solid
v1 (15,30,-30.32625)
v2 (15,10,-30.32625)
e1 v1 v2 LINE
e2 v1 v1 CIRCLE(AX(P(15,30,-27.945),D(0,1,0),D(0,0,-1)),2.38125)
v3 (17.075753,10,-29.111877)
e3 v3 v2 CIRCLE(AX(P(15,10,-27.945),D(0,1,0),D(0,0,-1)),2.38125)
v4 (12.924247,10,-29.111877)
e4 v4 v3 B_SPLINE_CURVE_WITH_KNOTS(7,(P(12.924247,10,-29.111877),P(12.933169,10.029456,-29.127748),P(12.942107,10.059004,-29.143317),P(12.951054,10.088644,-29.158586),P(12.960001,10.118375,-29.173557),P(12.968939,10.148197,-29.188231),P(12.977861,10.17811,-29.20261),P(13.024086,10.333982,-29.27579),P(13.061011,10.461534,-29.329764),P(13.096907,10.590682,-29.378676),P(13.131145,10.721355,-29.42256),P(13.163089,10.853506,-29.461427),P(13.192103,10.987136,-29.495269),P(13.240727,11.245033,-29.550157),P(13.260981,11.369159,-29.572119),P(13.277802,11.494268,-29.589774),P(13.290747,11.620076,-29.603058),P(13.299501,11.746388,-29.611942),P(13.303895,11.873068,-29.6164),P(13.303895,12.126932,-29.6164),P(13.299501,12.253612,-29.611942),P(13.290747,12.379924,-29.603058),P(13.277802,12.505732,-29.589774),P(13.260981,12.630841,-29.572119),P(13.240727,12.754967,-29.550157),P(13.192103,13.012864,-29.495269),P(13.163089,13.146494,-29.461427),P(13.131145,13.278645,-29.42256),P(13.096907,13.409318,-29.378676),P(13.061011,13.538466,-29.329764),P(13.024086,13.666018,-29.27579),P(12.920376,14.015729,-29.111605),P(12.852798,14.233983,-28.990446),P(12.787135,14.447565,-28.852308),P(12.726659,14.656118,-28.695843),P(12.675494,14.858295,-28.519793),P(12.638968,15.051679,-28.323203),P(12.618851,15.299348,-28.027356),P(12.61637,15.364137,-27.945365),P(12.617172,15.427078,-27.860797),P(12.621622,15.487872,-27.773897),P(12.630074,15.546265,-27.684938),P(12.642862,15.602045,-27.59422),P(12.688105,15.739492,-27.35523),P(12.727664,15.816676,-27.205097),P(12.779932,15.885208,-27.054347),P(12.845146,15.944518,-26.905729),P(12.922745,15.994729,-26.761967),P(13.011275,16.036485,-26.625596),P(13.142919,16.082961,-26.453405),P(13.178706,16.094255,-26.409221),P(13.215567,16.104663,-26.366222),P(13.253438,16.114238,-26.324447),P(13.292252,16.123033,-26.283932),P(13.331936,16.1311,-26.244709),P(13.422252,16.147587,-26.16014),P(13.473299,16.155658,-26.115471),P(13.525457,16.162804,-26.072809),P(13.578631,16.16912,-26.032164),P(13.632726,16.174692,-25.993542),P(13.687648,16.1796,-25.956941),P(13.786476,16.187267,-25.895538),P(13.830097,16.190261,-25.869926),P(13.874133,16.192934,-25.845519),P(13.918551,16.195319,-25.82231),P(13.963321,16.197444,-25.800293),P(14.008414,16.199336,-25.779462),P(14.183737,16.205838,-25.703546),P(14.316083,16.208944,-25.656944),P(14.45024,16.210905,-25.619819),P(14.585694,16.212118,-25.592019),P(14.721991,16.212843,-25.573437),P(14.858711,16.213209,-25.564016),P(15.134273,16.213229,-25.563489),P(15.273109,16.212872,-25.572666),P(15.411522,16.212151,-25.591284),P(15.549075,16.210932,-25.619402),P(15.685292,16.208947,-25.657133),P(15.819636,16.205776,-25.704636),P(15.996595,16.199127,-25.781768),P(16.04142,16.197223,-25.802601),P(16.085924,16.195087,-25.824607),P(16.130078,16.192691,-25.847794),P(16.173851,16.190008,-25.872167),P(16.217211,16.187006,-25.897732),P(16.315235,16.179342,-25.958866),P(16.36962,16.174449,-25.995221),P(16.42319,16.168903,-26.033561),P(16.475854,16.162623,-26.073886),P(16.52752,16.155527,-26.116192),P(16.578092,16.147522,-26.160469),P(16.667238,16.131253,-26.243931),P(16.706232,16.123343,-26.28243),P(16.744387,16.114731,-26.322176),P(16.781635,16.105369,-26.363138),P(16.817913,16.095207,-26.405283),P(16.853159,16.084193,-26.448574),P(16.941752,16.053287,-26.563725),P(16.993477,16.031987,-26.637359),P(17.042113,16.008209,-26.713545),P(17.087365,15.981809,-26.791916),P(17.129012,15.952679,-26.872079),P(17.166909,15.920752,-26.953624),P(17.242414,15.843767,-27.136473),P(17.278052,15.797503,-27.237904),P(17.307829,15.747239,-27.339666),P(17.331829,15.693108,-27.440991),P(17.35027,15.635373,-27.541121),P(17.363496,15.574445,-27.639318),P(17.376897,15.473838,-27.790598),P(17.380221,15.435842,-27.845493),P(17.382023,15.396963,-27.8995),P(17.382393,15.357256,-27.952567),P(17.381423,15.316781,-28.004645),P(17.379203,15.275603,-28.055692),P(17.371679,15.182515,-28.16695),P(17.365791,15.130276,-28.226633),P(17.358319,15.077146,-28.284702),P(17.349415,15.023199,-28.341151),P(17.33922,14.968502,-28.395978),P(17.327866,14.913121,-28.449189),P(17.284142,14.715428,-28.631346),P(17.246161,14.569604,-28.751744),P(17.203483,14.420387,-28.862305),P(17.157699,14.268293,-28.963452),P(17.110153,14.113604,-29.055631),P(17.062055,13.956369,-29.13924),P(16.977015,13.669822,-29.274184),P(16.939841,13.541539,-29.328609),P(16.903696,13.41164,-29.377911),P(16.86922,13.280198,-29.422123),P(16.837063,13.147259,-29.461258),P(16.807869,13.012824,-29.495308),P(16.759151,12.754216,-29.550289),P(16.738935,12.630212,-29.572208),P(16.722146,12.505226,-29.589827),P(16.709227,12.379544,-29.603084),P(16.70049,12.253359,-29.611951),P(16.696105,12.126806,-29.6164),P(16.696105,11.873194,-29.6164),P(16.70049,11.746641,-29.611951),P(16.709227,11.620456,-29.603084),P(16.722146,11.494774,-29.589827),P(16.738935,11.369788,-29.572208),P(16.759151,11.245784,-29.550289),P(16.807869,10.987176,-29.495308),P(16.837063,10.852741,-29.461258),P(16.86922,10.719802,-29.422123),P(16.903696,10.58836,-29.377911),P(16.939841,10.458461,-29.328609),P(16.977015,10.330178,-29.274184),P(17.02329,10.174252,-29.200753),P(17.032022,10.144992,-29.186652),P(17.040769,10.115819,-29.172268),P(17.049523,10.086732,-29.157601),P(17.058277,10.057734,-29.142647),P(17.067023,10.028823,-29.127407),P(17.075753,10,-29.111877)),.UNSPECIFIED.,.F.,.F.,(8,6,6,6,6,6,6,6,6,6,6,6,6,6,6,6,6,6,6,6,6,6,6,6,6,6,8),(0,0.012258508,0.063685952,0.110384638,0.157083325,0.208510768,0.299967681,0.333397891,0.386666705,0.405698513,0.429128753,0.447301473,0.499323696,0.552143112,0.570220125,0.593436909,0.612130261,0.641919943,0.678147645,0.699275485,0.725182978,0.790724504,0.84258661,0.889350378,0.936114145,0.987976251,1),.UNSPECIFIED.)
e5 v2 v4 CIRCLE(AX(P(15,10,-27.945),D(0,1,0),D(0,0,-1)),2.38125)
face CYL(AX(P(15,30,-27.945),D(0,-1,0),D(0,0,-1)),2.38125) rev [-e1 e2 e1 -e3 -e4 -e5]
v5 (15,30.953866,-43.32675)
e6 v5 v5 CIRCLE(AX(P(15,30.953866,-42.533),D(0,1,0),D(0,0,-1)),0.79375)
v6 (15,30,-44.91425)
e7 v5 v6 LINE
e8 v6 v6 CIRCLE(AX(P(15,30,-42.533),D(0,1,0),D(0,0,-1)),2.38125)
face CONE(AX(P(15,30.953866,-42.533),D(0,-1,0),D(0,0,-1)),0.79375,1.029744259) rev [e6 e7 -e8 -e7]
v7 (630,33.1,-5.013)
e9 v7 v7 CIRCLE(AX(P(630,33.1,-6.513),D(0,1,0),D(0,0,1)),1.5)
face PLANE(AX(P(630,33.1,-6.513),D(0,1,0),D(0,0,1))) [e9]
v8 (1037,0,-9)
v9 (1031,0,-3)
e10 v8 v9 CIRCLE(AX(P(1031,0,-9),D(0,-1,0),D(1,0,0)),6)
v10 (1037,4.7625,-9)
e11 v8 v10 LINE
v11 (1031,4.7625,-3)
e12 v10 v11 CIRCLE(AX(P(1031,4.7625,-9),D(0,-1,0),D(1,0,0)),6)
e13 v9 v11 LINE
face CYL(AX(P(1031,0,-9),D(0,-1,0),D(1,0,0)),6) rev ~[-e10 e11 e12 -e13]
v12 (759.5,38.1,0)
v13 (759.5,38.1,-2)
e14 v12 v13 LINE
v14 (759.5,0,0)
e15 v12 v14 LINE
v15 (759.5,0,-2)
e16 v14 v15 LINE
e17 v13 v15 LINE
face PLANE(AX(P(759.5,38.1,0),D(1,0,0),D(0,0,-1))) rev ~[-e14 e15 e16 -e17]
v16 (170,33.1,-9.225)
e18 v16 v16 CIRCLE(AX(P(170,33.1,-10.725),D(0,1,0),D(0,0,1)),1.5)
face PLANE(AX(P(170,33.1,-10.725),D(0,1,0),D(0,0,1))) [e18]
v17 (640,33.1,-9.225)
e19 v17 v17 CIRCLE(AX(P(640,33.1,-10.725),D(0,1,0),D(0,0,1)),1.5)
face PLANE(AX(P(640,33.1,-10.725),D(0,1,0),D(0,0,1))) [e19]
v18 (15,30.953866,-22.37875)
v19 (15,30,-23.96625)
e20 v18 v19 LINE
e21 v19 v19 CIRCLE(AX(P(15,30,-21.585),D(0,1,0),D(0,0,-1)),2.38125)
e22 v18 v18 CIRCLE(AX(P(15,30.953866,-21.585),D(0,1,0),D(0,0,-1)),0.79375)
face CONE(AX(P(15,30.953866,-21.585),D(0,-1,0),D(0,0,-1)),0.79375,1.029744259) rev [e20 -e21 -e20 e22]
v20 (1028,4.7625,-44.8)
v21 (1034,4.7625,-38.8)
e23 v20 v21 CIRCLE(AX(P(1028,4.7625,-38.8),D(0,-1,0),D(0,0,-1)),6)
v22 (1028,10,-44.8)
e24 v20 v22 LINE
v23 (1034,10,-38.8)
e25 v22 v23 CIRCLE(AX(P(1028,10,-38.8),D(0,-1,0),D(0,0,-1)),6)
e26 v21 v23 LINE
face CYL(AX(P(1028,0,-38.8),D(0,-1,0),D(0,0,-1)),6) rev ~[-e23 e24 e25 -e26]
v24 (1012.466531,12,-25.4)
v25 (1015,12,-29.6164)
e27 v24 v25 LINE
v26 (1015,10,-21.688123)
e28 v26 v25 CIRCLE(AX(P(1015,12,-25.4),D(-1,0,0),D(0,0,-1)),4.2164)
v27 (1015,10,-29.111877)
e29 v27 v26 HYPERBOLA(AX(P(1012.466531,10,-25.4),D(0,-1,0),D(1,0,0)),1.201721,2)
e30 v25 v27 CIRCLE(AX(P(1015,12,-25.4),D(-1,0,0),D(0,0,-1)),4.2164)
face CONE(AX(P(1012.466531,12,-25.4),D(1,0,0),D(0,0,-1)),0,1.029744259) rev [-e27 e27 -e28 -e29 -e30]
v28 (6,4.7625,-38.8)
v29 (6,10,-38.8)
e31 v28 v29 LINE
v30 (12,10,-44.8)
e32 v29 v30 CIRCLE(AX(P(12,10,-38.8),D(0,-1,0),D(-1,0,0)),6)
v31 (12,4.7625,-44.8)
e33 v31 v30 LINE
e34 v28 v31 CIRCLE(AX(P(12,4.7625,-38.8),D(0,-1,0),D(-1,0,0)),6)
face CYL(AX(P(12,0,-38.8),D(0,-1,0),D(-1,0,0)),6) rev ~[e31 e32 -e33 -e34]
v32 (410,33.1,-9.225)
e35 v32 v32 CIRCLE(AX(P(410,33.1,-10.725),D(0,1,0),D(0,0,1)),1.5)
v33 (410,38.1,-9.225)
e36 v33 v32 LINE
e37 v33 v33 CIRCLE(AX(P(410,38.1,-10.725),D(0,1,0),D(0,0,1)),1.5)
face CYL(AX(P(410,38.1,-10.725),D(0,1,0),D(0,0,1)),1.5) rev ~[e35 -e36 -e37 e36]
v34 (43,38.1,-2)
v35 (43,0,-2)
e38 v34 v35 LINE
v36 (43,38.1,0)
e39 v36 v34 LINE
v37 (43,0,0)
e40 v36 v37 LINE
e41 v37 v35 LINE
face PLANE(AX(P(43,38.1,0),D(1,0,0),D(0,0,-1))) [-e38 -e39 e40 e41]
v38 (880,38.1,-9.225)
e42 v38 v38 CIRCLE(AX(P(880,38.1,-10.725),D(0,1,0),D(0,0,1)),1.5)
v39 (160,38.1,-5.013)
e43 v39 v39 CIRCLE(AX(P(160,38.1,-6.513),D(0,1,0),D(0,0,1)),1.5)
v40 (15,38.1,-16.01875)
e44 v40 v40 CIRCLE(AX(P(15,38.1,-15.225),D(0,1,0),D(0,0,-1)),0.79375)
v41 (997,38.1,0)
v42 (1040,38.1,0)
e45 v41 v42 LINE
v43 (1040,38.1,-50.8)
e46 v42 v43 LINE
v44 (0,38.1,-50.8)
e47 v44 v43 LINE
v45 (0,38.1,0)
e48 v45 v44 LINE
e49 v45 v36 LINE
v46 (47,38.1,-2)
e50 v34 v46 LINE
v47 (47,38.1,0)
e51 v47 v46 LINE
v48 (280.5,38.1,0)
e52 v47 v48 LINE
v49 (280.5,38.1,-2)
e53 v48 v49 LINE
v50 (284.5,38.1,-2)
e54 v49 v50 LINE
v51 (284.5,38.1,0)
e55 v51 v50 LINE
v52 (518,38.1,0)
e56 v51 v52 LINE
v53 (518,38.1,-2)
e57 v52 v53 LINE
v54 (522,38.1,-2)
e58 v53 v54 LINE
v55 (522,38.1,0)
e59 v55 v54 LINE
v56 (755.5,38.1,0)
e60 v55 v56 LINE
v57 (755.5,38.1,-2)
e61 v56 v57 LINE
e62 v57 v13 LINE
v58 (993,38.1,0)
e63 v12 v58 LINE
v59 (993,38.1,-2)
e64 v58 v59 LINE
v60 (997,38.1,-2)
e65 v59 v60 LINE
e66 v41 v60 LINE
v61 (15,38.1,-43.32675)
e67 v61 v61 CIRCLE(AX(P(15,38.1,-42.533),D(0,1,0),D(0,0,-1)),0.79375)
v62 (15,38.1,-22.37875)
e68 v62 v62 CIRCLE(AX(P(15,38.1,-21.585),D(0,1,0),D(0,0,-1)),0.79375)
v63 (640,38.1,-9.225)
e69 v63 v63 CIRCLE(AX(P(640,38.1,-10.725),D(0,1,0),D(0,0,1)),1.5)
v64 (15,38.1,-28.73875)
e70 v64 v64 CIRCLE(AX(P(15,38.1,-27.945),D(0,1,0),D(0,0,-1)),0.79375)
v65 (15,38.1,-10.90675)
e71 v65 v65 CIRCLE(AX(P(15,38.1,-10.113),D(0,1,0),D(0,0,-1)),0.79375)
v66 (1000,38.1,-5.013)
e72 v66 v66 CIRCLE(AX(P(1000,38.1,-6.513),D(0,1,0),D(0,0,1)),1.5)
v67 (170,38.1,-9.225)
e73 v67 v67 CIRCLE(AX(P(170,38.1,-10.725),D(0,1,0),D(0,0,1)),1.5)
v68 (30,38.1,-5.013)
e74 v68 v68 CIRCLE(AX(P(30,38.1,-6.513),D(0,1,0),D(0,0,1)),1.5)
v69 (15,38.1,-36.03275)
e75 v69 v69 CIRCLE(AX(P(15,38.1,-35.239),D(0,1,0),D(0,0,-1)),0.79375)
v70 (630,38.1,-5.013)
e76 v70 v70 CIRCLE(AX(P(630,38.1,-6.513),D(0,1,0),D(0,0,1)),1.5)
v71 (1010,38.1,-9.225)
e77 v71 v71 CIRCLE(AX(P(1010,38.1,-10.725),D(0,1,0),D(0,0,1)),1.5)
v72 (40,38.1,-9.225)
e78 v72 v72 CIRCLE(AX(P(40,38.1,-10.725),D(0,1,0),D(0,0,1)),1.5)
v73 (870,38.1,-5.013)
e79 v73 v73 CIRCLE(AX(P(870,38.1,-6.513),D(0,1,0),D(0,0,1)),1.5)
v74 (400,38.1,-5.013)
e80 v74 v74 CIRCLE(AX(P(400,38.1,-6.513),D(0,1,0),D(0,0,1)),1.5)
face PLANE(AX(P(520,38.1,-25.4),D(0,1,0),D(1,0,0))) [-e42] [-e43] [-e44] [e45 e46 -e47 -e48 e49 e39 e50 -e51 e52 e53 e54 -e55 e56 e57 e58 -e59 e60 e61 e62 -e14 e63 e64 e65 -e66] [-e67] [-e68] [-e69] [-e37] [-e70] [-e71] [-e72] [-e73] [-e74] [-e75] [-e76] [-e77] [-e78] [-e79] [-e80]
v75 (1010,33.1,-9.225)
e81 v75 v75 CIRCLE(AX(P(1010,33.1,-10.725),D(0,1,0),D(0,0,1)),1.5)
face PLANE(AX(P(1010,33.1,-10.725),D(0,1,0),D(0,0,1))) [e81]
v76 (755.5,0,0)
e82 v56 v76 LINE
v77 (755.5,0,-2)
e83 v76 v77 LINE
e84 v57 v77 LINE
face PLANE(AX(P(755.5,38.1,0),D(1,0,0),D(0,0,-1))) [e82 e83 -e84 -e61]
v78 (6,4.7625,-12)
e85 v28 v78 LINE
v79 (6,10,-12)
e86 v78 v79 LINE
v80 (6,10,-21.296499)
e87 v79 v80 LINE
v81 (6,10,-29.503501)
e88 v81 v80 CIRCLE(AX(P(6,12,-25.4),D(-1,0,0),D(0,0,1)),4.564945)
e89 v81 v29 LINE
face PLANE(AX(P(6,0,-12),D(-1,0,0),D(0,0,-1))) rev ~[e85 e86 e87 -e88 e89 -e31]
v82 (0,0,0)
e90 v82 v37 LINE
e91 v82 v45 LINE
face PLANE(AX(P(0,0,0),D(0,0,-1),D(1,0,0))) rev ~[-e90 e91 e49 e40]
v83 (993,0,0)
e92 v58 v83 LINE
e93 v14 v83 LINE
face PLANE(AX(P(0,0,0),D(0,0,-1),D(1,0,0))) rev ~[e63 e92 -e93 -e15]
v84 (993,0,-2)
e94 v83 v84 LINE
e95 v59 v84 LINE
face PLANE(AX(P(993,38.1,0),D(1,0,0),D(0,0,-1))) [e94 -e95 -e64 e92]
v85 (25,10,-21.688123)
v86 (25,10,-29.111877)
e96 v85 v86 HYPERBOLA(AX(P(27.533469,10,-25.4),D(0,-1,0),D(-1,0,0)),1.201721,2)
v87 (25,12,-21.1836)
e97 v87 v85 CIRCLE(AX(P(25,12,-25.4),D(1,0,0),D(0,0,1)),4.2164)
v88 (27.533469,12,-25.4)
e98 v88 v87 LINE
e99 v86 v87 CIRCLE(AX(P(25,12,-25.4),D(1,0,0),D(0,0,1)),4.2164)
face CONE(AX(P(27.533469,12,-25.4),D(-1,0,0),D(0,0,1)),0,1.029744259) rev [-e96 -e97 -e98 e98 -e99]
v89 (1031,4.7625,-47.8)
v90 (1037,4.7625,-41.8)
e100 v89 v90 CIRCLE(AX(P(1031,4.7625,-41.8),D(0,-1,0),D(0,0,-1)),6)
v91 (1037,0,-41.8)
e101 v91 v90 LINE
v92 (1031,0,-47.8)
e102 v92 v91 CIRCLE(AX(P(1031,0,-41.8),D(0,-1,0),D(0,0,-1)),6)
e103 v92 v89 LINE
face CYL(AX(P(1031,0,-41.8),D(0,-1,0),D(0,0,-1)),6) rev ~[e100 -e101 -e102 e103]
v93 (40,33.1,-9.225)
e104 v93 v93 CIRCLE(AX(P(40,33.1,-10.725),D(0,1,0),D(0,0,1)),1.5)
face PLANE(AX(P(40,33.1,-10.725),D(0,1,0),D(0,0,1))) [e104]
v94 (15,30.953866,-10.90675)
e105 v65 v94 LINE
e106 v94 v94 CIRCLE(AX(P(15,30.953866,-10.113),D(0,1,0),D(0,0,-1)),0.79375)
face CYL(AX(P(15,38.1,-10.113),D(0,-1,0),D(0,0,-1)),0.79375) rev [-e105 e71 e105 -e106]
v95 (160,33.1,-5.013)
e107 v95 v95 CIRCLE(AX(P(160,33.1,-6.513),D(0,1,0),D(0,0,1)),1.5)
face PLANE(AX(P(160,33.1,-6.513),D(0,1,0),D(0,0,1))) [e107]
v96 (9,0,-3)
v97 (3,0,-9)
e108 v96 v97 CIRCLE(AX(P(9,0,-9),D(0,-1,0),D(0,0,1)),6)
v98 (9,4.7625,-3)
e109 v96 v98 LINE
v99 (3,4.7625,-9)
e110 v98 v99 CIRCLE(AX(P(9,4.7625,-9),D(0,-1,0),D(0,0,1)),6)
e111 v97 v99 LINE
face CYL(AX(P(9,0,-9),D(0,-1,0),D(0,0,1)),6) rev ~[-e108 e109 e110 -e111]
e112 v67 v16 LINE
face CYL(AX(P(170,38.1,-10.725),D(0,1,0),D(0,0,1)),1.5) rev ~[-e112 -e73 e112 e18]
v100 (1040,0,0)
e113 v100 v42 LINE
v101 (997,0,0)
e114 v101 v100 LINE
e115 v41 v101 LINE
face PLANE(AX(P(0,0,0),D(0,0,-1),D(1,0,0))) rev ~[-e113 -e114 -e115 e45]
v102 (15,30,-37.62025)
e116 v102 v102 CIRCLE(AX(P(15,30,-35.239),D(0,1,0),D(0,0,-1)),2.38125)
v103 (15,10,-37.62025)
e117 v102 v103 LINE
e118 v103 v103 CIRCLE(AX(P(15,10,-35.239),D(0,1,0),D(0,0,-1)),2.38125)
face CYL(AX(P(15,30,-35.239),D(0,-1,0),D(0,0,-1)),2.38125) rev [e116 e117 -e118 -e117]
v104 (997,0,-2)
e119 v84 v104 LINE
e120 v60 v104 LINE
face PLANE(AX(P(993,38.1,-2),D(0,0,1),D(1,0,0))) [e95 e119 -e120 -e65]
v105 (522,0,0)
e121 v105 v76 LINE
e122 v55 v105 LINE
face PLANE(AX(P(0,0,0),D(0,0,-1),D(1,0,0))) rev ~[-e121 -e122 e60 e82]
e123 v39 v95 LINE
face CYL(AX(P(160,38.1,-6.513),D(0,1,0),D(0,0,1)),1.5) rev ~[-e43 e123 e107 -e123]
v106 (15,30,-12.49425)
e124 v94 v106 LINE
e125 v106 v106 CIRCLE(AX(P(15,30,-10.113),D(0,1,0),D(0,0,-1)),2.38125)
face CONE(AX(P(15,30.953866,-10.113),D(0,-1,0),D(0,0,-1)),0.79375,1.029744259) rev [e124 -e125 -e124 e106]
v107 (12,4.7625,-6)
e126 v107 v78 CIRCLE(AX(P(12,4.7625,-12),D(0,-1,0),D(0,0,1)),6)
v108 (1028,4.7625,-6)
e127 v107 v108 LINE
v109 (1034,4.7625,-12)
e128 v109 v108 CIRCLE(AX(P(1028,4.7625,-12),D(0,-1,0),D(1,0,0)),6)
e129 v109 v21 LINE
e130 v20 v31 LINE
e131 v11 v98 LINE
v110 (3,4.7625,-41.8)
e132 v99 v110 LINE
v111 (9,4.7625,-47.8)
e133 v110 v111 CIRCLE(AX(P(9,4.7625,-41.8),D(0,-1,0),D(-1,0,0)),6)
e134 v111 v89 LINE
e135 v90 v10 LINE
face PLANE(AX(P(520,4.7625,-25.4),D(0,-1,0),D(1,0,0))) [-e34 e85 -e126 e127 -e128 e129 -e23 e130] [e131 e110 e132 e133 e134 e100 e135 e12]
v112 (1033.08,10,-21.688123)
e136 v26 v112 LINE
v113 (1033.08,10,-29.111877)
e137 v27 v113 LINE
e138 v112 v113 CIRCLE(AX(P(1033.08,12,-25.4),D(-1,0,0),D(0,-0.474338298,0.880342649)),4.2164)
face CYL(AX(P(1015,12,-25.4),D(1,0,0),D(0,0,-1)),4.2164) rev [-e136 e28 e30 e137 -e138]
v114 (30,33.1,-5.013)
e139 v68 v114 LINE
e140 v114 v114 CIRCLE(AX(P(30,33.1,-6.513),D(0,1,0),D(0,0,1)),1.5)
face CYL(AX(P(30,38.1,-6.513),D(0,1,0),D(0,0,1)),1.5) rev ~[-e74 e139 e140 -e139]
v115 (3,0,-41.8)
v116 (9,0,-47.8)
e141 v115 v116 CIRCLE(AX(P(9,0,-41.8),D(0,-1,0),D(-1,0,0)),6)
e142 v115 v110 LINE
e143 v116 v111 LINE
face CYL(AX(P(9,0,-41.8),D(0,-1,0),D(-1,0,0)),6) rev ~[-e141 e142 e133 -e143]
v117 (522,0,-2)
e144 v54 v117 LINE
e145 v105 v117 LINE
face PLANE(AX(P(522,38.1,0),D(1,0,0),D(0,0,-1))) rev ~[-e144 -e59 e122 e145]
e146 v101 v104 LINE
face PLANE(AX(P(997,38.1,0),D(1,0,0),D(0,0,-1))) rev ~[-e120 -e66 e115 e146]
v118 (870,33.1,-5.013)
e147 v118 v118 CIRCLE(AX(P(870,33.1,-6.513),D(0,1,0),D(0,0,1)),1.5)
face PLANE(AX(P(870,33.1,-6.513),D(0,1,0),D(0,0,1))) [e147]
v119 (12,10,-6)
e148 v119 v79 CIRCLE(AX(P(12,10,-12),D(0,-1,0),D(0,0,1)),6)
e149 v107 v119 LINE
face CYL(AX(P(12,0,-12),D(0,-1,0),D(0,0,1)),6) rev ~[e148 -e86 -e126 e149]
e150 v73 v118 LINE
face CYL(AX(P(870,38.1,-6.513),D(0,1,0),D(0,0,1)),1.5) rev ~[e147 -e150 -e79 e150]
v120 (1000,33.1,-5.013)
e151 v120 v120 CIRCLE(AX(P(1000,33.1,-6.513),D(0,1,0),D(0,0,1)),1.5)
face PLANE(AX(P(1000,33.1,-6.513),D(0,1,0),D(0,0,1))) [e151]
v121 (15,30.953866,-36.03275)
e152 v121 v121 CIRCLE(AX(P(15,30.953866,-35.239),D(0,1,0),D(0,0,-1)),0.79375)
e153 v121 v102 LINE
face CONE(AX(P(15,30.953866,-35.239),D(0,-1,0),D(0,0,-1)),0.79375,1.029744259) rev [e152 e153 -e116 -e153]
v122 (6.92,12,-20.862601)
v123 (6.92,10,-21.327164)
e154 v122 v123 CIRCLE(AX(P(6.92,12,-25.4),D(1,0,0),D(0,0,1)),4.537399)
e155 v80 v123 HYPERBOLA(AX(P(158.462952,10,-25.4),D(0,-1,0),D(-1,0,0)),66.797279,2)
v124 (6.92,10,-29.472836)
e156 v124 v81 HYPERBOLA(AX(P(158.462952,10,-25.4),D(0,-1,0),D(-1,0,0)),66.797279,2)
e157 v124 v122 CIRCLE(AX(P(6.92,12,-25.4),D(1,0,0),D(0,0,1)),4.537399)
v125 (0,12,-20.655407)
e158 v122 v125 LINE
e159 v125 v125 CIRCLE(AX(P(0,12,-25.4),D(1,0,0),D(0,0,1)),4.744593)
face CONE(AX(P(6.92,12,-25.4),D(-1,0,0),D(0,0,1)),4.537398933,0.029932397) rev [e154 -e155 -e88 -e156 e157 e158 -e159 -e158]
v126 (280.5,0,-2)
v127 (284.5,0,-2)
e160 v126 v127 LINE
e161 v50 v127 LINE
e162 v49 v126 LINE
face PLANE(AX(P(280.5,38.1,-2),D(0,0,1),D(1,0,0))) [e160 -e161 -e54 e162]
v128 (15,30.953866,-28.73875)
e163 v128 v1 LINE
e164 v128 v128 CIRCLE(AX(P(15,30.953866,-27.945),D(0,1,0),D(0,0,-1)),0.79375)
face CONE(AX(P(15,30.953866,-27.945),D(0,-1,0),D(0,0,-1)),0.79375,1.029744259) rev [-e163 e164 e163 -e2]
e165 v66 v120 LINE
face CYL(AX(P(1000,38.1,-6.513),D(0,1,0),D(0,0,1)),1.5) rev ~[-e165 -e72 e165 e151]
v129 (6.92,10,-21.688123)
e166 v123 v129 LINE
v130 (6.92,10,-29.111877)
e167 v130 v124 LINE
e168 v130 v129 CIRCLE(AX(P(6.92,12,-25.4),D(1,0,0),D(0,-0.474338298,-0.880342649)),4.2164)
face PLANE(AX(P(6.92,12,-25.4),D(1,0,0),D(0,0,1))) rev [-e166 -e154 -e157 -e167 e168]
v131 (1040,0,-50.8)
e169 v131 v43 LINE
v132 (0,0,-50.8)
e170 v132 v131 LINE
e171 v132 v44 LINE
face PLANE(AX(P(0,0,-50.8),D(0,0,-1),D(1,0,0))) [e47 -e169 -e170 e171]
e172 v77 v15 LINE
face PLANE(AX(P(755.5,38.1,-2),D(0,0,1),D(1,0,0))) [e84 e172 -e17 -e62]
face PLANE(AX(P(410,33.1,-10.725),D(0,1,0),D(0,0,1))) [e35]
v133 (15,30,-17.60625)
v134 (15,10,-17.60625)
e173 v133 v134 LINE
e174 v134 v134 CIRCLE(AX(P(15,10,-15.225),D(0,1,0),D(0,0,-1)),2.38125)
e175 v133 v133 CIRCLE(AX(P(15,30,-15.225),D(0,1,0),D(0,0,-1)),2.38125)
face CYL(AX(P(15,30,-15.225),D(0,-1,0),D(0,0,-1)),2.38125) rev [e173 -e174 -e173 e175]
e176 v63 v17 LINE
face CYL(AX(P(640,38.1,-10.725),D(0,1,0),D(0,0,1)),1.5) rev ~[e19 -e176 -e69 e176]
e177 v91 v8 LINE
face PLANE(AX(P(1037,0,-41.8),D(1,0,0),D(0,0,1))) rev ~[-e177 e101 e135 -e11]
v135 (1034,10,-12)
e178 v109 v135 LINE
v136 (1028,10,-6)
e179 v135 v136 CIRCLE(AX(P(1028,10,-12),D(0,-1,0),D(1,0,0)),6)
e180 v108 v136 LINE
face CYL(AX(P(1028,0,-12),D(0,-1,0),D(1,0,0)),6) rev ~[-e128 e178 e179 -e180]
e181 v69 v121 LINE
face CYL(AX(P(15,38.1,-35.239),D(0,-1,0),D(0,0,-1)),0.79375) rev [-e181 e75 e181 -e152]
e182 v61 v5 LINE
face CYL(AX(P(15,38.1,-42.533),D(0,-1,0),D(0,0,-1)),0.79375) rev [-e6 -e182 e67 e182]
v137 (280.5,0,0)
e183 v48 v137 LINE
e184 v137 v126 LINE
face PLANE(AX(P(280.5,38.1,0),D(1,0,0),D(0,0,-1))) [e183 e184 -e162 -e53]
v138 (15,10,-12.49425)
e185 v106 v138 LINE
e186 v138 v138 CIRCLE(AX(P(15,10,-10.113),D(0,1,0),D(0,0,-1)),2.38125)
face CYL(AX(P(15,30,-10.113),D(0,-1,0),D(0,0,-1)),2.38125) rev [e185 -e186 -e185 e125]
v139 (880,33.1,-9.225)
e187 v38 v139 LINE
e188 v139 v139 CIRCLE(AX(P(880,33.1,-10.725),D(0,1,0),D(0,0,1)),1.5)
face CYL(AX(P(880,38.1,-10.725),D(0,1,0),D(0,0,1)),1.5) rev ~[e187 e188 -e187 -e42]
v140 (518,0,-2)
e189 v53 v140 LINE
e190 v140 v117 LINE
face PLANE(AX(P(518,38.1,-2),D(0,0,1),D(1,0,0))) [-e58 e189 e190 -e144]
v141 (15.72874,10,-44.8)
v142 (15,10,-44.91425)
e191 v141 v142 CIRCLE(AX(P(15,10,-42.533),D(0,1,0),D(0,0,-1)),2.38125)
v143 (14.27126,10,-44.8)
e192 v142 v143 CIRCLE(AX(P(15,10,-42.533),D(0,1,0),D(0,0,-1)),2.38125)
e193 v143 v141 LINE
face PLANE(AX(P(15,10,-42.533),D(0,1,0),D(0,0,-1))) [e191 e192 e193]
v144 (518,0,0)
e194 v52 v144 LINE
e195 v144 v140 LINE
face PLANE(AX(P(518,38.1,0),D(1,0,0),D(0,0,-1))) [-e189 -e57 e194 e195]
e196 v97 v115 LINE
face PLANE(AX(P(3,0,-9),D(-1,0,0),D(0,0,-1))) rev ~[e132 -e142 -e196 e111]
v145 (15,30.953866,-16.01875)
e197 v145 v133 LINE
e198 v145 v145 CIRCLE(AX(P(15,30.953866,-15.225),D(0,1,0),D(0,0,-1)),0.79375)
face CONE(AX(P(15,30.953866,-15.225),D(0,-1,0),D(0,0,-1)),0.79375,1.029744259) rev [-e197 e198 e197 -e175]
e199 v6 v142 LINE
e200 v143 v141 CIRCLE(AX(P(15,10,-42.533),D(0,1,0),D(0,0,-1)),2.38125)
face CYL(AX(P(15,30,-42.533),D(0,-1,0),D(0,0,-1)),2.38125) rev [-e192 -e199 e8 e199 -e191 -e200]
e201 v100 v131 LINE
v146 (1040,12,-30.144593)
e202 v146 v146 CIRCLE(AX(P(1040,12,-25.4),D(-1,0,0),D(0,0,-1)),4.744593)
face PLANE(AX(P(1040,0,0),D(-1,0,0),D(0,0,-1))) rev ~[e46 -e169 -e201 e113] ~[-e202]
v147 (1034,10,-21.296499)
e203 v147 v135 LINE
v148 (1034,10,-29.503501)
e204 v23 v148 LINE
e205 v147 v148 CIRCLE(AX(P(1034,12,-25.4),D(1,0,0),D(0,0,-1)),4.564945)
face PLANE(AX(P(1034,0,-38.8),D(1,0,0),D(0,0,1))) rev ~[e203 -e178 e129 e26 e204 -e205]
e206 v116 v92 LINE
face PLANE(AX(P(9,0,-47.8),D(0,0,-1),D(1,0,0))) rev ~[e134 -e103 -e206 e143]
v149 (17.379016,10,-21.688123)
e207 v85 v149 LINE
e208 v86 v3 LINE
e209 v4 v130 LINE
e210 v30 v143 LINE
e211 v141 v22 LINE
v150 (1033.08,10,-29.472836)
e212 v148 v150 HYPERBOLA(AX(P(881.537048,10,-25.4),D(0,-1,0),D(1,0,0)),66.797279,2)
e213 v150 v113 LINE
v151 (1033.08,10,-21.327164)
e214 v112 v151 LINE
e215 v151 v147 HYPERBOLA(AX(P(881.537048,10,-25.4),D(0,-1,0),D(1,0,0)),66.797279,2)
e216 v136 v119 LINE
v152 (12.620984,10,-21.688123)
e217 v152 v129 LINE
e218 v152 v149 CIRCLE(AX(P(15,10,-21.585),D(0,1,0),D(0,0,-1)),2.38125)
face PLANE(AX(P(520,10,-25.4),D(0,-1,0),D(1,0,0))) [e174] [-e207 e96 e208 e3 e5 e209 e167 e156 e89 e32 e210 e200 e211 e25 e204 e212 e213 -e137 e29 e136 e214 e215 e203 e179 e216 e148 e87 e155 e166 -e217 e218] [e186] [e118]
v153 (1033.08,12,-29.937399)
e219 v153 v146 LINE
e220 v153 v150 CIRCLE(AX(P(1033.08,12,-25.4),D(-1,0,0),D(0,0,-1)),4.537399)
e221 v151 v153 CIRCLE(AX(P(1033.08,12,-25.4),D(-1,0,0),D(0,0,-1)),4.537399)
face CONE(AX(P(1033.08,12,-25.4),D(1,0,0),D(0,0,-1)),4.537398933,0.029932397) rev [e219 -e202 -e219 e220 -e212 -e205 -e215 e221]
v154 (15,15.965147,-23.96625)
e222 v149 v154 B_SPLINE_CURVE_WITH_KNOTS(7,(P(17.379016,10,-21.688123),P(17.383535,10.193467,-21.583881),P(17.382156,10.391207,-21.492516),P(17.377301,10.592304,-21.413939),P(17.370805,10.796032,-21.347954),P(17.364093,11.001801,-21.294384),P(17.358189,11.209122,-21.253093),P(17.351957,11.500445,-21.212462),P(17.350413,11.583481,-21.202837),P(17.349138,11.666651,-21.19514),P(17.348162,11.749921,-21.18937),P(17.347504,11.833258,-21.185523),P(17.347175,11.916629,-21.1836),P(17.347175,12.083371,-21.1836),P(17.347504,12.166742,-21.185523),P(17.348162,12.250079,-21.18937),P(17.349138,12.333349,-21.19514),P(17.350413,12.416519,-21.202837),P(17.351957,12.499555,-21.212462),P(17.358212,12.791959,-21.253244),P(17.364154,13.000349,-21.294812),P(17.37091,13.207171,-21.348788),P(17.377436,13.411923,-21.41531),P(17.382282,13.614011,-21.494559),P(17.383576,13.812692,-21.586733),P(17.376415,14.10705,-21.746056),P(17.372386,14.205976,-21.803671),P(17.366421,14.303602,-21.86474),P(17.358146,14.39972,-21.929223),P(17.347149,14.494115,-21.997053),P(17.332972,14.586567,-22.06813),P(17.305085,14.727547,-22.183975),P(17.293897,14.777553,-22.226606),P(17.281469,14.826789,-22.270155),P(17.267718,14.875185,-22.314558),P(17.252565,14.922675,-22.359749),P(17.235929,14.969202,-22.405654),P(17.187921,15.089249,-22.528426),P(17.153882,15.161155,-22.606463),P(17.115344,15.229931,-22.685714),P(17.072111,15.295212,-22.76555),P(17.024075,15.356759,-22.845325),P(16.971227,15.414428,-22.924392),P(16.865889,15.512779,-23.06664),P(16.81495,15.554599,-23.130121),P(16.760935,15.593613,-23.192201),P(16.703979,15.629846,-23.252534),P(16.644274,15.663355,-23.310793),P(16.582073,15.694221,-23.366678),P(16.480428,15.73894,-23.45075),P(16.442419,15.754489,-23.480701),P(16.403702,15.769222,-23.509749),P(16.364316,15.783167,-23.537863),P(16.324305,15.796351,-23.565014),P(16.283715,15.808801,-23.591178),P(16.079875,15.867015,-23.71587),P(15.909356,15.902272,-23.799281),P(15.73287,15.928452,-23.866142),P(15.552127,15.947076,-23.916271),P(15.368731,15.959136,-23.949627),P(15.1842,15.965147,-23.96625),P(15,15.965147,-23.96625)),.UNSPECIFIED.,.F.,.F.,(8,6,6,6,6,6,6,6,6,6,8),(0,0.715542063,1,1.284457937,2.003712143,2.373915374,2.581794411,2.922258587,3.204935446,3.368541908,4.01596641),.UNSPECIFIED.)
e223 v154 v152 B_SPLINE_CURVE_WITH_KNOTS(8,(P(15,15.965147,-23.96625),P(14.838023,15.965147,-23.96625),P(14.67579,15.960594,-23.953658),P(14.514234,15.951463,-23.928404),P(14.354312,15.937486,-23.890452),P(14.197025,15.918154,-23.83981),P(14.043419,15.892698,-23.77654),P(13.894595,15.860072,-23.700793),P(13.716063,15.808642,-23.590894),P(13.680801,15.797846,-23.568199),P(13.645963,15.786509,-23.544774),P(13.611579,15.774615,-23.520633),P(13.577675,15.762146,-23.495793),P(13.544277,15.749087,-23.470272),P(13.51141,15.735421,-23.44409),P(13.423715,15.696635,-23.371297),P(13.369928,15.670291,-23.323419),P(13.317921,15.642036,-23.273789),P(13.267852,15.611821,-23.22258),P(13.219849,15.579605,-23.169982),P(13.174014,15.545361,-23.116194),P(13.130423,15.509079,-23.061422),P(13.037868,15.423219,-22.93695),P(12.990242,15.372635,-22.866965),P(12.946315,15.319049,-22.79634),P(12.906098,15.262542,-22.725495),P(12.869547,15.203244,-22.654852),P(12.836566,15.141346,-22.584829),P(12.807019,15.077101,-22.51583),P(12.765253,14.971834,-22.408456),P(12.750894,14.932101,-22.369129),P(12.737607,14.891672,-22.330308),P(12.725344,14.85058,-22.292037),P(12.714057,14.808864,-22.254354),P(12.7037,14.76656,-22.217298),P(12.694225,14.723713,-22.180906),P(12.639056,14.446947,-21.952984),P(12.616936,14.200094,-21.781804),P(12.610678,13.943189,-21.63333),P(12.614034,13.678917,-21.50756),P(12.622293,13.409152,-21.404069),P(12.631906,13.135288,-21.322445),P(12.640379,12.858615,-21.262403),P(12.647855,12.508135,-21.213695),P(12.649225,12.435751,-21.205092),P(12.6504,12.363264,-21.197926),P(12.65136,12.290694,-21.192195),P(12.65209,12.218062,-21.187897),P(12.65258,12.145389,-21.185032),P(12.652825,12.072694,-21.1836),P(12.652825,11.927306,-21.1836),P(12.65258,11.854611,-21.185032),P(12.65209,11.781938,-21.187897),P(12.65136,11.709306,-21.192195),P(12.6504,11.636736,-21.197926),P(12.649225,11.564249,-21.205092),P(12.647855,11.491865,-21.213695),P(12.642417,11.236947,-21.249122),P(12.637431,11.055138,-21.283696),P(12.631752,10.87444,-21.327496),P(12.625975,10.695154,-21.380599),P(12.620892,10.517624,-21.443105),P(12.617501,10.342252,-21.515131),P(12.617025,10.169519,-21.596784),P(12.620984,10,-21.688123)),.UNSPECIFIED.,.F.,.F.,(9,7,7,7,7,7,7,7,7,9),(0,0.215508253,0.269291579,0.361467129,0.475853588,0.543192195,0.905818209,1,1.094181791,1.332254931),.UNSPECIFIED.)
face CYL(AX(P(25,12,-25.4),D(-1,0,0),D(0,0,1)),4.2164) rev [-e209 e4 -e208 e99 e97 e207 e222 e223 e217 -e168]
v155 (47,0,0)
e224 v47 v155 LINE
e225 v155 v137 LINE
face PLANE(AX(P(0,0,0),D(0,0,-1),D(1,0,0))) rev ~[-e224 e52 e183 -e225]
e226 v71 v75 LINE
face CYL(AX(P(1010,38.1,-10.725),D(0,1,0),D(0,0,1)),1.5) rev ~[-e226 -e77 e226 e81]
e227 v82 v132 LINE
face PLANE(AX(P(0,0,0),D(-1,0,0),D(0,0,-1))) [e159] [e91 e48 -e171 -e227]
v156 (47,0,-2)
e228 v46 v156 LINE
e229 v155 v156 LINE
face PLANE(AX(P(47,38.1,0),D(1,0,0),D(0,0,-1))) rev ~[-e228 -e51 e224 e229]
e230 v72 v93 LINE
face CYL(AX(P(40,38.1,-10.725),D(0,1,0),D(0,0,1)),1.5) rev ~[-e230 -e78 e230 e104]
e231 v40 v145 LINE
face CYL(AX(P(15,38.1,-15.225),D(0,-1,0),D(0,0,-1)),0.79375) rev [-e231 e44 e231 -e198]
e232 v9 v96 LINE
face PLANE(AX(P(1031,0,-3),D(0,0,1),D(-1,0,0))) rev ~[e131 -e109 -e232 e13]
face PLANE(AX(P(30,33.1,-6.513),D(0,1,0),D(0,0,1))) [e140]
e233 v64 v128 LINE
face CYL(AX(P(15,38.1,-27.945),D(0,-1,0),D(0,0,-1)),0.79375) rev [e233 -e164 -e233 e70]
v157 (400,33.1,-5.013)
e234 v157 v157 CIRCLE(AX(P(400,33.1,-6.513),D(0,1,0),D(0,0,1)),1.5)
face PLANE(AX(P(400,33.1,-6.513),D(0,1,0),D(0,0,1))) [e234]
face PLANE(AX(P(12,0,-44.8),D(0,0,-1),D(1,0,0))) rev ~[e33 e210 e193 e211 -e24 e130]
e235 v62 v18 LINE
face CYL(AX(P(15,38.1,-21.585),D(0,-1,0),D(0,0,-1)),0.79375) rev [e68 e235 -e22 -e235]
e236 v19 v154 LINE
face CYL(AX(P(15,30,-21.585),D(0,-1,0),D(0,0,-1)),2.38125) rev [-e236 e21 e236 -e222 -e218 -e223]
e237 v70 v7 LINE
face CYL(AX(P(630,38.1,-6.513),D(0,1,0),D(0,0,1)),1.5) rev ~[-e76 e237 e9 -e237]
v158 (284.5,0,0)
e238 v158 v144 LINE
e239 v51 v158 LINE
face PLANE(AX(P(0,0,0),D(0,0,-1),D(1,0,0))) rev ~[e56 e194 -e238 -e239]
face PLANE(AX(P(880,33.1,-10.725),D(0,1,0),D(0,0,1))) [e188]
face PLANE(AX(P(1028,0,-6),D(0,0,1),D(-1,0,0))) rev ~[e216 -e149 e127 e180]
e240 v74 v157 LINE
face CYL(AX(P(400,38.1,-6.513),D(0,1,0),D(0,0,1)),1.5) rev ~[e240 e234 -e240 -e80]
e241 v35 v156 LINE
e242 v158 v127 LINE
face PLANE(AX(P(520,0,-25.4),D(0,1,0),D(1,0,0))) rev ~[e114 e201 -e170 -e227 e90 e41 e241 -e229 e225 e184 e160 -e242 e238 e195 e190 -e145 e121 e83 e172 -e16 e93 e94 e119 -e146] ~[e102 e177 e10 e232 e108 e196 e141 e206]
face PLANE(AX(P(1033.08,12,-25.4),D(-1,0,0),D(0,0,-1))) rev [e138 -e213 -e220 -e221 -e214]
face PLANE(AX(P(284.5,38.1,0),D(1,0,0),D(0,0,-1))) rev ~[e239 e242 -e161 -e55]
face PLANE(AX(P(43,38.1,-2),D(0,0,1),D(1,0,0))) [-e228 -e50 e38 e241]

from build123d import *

# Parameters (mm, degrees)
SKETCH1_W           = 1040
SKETCH1_H           = 50.8
BOSS_EXTRUDE1_DEPTH = 38.1
SKETCH7_R           = 1.5
CUT_EXTRUDE14_DEPTH = 5
CUT_EXTRUDE15_DEPTH = 10
CUT_EXTRUDE16_DEPTH = 4.7625
SKETCH2_W           = 4
SKETCH2_H           = 2
CUT_EXTRUDE18_DEPTH = 39.1
HOLE2_AT_2_COUNT    = 2
HOLE2_AT_2_PITCH    = 7.294
HOLE2_AT_3_COUNT    = 2
HOLE2_AT_3_PITCH    = 14.588
HOLE2_AT_4_COUNT    = 2
HOLE2_AT_4_PITCH    = 20.948
HOLE2_AT_5_COUNT    = 2
HOLE2_AT_5_PITCH    = 27.308
HOLE2_AT_6_COUNT    = 2
HOLE2_AT_6_PITCH    = 32.42


with BuildPart() as part:
    # Sketch1 → Boss-Extrude1 (new body)
    with BuildSketch(Plane(origin=(0, 0, 0), x_dir=(1, 0, 0), z_dir=(0, 1, 0))):
        with Locations((520, 25.4)):
            Rectangle(SKETCH1_W, SKETCH1_H)
    extrude(amount=BOSS_EXTRUDE1_DEPTH)

    # Sketch7 → Cut-Extrude14 (cut)
    with BuildSketch(Plane(origin=(0, 38.1, 0), x_dir=(1, 0, 0), z_dir=(0, 1, 0))):
        with Locations(Location((400, 6.513, 0), (0, 0, 270))):  # turned: the seam where the file's is
            Circle(SKETCH7_R)
        with Locations(Location((160, 6.513, 0), (0, 0, 270))):  # turned: the seam where the file's is
            Circle(SKETCH7_R)
        with Locations(Location((870, 6.513, 0), (0, 0, 270))):  # turned: the seam where the file's is
            Circle(SKETCH7_R)
        with Locations(Location((630, 6.513, 0), (0, 0, 270))):  # turned: the seam where the file's is
            Circle(SKETCH7_R)
        with Locations(Location((170, 10.725, 0), (0, 0, 270))):  # turned: the seam where the file's is
            Circle(SKETCH7_R)
        with Locations(Location((30, 6.513, 0), (0, 0, 270))):  # turned: the seam where the file's is
            Circle(SKETCH7_R)
        with Locations(Location((40, 10.725, 0), (0, 0, 270))):  # turned: the seam where the file's is
            Circle(SKETCH7_R)
        with Locations(Location((1000, 6.513, 0), (0, 0, 270))):  # turned: the seam where the file's is
            Circle(SKETCH7_R)
        with Locations(Location((410, 10.725, 0), (0, 0, 270))):  # turned: the seam where the file's is
            Circle(SKETCH7_R)
        with Locations(Location((1010, 10.725, 0), (0, 0, 270))):  # turned: the seam where the file's is
            Circle(SKETCH7_R)
        with Locations(Location((640, 10.725, 0), (0, 0, 270))):  # turned: the seam where the file's is
            Circle(SKETCH7_R)
        with Locations(Location((880, 10.725, 0), (0, 0, 270))):  # turned: the seam where the file's is
            Circle(SKETCH7_R)
    extrude(amount=-CUT_EXTRUDE14_DEPTH, mode=Mode.SUBTRACT)

    # Sketch8 → Cut-Extrude15 (cut)
    with BuildSketch(Plane.XZ):
        with BuildLine():
            Line((12, -44.8), (1028, -44.8))
            ThreePointArc((1028, -44.8), (1032.242640687, -43.042640687), (1034, -38.8))
            Line((1034, -38.8), (1034, -12))
            ThreePointArc((1034, -12), (1032.242640687, -7.757359313), (1028, -6))
            Line((1028, -6), (12, -6))
            ThreePointArc((12, -6), (7.757359313, -7.757359313), (6, -12))
            Line((6, -12), (6, -38.8))
            ThreePointArc((6, -38.8), (7.757359313, -43.042640687), (12, -44.8))
        make_face()
    extrude(amount=-CUT_EXTRUDE15_DEPTH, mode=Mode.SUBTRACT)

    # Sketch8_3 → Cut-Extrude16 (cut)
    with BuildSketch(Plane.XZ):
        with BuildLine():
            Line((9, -47.8), (1031, -47.8))
            ThreePointArc((1031, -47.8), (1035.242640687, -46.042640687), (1037, -41.8))
            Line((1037, -41.8), (1037, -9))
            ThreePointArc((1037, -9), (1035.242640687, -4.757359313), (1031, -3))
            Line((1031, -3), (9, -3))
            ThreePointArc((9, -3), (4.757359313, -4.757359313), (3, -9))
            Line((3, -9), (3, -41.8))
            ThreePointArc((3, -41.8), (4.757359313, -46.042640687), (9, -47.8))
        make_face()
    extrude(amount=-CUT_EXTRUDE16_DEPTH, mode=Mode.SUBTRACT)

    # Sketch2 → Cut-Extrude18 (cut, through all)
    with BuildSketch(Plane(origin=(0, 38.1, 0), x_dir=(1, 0, 0), z_dir=(0, 1, 0))):
        with Locations((45, 1)):
            Rectangle(SKETCH2_W, SKETCH2_H)
        with Locations((282.5, 1)):
            Rectangle(SKETCH2_W, SKETCH2_H)
        with Locations((520, 1)):
            Rectangle(SKETCH2_W, SKETCH2_H)
        with Locations((757.5, 1)):
            Rectangle(SKETCH2_W, SKETCH2_H)
        with Locations((995, 1)):
            Rectangle(SKETCH2_W, SKETCH2_H)
    extrude(amount=-CUT_EXTRUDE18_DEPTH, mode=Mode.SUBTRACT)

    # Sketch12 → 1_8 NPT Tapped Hole2 (revolve, cut)
    with BuildSketch(Plane(origin=(1040, 12, -25.4), x_dir=(0, 0, -1), z_dir=(0, 1, 0))):
        Polygon((0, 0), (0, 27.533468714), (4.2164, 25), (4.2164, 6.92), (4.537398933, 6.92), (4.744593, 0), align=None)
    revolve(axis=Axis((1046.35, 12, -25.4), (-1, 0, 0)), mode=Mode.SUBTRACT)

    # Sketch14 → 1_8 NPT Tapped Hole3 (revolve, cut)
    with BuildSketch(Plane(origin=(0, 12, -25.4), x_dir=(0, 0, 1), z_dir=(0, 1, 0))):
        Polygon((0, 0), (0, 27.533468714), (4.2164, 25), (4.2164, 6.92), (4.537398933, 6.92), (4.744593, 0), align=None)
    revolve(axis=Axis((-6.35, 12, -25.4), (1, 0, 0)), mode=Mode.SUBTRACT)

    # Sketch26 → Hole2 (revolve, cut)
    with BuildSketch(Plane(origin=(15, 10, -42.533), x_dir=(0, 0, -1), z_dir=(1, 0, 0))):
        Polygon((0, 0), (0, 28.1), (0.79375, 28.1), (0.79375, 20.953866233), (2.38125, 20), (2.38125, 0), align=None)
    hole2 = revolve(axis=Axis((15, 3.869976101, -42.533), (0, 1, 0)), mode=Mode.SUBTRACT)

    # Hole2 at 2: Hole2 ×2
    with Locations(*[(0, 0, i * HOLE2_AT_2_PITCH) for i in range(1, HOLE2_AT_2_COUNT)]):
        add(hole2, mode=Mode.SUBTRACT)

    # Hole2 at 3: Hole2 ×2
    with Locations(*[(0, 0, i * HOLE2_AT_3_PITCH) for i in range(1, HOLE2_AT_3_COUNT)]):
        add(hole2, mode=Mode.SUBTRACT)

    # Hole2 at 4: Hole2 ×2
    with Locations(*[(0, 0, i * HOLE2_AT_4_PITCH) for i in range(1, HOLE2_AT_4_COUNT)]):
        add(hole2, mode=Mode.SUBTRACT)

    # Hole2 at 5: Hole2 ×2
    with Locations(*[(0, 0, i * HOLE2_AT_5_PITCH) for i in range(1, HOLE2_AT_5_COUNT)]):
        add(hole2, mode=Mode.SUBTRACT)

    # Hole2 at 6: Hole2 ×2
    with Locations(*[(0, 0, i * HOLE2_AT_6_PITCH) for i in range(1, HOLE2_AT_6_COUNT)]):
        add(hole2, mode=Mode.SUBTRACT)


solid = part.part
